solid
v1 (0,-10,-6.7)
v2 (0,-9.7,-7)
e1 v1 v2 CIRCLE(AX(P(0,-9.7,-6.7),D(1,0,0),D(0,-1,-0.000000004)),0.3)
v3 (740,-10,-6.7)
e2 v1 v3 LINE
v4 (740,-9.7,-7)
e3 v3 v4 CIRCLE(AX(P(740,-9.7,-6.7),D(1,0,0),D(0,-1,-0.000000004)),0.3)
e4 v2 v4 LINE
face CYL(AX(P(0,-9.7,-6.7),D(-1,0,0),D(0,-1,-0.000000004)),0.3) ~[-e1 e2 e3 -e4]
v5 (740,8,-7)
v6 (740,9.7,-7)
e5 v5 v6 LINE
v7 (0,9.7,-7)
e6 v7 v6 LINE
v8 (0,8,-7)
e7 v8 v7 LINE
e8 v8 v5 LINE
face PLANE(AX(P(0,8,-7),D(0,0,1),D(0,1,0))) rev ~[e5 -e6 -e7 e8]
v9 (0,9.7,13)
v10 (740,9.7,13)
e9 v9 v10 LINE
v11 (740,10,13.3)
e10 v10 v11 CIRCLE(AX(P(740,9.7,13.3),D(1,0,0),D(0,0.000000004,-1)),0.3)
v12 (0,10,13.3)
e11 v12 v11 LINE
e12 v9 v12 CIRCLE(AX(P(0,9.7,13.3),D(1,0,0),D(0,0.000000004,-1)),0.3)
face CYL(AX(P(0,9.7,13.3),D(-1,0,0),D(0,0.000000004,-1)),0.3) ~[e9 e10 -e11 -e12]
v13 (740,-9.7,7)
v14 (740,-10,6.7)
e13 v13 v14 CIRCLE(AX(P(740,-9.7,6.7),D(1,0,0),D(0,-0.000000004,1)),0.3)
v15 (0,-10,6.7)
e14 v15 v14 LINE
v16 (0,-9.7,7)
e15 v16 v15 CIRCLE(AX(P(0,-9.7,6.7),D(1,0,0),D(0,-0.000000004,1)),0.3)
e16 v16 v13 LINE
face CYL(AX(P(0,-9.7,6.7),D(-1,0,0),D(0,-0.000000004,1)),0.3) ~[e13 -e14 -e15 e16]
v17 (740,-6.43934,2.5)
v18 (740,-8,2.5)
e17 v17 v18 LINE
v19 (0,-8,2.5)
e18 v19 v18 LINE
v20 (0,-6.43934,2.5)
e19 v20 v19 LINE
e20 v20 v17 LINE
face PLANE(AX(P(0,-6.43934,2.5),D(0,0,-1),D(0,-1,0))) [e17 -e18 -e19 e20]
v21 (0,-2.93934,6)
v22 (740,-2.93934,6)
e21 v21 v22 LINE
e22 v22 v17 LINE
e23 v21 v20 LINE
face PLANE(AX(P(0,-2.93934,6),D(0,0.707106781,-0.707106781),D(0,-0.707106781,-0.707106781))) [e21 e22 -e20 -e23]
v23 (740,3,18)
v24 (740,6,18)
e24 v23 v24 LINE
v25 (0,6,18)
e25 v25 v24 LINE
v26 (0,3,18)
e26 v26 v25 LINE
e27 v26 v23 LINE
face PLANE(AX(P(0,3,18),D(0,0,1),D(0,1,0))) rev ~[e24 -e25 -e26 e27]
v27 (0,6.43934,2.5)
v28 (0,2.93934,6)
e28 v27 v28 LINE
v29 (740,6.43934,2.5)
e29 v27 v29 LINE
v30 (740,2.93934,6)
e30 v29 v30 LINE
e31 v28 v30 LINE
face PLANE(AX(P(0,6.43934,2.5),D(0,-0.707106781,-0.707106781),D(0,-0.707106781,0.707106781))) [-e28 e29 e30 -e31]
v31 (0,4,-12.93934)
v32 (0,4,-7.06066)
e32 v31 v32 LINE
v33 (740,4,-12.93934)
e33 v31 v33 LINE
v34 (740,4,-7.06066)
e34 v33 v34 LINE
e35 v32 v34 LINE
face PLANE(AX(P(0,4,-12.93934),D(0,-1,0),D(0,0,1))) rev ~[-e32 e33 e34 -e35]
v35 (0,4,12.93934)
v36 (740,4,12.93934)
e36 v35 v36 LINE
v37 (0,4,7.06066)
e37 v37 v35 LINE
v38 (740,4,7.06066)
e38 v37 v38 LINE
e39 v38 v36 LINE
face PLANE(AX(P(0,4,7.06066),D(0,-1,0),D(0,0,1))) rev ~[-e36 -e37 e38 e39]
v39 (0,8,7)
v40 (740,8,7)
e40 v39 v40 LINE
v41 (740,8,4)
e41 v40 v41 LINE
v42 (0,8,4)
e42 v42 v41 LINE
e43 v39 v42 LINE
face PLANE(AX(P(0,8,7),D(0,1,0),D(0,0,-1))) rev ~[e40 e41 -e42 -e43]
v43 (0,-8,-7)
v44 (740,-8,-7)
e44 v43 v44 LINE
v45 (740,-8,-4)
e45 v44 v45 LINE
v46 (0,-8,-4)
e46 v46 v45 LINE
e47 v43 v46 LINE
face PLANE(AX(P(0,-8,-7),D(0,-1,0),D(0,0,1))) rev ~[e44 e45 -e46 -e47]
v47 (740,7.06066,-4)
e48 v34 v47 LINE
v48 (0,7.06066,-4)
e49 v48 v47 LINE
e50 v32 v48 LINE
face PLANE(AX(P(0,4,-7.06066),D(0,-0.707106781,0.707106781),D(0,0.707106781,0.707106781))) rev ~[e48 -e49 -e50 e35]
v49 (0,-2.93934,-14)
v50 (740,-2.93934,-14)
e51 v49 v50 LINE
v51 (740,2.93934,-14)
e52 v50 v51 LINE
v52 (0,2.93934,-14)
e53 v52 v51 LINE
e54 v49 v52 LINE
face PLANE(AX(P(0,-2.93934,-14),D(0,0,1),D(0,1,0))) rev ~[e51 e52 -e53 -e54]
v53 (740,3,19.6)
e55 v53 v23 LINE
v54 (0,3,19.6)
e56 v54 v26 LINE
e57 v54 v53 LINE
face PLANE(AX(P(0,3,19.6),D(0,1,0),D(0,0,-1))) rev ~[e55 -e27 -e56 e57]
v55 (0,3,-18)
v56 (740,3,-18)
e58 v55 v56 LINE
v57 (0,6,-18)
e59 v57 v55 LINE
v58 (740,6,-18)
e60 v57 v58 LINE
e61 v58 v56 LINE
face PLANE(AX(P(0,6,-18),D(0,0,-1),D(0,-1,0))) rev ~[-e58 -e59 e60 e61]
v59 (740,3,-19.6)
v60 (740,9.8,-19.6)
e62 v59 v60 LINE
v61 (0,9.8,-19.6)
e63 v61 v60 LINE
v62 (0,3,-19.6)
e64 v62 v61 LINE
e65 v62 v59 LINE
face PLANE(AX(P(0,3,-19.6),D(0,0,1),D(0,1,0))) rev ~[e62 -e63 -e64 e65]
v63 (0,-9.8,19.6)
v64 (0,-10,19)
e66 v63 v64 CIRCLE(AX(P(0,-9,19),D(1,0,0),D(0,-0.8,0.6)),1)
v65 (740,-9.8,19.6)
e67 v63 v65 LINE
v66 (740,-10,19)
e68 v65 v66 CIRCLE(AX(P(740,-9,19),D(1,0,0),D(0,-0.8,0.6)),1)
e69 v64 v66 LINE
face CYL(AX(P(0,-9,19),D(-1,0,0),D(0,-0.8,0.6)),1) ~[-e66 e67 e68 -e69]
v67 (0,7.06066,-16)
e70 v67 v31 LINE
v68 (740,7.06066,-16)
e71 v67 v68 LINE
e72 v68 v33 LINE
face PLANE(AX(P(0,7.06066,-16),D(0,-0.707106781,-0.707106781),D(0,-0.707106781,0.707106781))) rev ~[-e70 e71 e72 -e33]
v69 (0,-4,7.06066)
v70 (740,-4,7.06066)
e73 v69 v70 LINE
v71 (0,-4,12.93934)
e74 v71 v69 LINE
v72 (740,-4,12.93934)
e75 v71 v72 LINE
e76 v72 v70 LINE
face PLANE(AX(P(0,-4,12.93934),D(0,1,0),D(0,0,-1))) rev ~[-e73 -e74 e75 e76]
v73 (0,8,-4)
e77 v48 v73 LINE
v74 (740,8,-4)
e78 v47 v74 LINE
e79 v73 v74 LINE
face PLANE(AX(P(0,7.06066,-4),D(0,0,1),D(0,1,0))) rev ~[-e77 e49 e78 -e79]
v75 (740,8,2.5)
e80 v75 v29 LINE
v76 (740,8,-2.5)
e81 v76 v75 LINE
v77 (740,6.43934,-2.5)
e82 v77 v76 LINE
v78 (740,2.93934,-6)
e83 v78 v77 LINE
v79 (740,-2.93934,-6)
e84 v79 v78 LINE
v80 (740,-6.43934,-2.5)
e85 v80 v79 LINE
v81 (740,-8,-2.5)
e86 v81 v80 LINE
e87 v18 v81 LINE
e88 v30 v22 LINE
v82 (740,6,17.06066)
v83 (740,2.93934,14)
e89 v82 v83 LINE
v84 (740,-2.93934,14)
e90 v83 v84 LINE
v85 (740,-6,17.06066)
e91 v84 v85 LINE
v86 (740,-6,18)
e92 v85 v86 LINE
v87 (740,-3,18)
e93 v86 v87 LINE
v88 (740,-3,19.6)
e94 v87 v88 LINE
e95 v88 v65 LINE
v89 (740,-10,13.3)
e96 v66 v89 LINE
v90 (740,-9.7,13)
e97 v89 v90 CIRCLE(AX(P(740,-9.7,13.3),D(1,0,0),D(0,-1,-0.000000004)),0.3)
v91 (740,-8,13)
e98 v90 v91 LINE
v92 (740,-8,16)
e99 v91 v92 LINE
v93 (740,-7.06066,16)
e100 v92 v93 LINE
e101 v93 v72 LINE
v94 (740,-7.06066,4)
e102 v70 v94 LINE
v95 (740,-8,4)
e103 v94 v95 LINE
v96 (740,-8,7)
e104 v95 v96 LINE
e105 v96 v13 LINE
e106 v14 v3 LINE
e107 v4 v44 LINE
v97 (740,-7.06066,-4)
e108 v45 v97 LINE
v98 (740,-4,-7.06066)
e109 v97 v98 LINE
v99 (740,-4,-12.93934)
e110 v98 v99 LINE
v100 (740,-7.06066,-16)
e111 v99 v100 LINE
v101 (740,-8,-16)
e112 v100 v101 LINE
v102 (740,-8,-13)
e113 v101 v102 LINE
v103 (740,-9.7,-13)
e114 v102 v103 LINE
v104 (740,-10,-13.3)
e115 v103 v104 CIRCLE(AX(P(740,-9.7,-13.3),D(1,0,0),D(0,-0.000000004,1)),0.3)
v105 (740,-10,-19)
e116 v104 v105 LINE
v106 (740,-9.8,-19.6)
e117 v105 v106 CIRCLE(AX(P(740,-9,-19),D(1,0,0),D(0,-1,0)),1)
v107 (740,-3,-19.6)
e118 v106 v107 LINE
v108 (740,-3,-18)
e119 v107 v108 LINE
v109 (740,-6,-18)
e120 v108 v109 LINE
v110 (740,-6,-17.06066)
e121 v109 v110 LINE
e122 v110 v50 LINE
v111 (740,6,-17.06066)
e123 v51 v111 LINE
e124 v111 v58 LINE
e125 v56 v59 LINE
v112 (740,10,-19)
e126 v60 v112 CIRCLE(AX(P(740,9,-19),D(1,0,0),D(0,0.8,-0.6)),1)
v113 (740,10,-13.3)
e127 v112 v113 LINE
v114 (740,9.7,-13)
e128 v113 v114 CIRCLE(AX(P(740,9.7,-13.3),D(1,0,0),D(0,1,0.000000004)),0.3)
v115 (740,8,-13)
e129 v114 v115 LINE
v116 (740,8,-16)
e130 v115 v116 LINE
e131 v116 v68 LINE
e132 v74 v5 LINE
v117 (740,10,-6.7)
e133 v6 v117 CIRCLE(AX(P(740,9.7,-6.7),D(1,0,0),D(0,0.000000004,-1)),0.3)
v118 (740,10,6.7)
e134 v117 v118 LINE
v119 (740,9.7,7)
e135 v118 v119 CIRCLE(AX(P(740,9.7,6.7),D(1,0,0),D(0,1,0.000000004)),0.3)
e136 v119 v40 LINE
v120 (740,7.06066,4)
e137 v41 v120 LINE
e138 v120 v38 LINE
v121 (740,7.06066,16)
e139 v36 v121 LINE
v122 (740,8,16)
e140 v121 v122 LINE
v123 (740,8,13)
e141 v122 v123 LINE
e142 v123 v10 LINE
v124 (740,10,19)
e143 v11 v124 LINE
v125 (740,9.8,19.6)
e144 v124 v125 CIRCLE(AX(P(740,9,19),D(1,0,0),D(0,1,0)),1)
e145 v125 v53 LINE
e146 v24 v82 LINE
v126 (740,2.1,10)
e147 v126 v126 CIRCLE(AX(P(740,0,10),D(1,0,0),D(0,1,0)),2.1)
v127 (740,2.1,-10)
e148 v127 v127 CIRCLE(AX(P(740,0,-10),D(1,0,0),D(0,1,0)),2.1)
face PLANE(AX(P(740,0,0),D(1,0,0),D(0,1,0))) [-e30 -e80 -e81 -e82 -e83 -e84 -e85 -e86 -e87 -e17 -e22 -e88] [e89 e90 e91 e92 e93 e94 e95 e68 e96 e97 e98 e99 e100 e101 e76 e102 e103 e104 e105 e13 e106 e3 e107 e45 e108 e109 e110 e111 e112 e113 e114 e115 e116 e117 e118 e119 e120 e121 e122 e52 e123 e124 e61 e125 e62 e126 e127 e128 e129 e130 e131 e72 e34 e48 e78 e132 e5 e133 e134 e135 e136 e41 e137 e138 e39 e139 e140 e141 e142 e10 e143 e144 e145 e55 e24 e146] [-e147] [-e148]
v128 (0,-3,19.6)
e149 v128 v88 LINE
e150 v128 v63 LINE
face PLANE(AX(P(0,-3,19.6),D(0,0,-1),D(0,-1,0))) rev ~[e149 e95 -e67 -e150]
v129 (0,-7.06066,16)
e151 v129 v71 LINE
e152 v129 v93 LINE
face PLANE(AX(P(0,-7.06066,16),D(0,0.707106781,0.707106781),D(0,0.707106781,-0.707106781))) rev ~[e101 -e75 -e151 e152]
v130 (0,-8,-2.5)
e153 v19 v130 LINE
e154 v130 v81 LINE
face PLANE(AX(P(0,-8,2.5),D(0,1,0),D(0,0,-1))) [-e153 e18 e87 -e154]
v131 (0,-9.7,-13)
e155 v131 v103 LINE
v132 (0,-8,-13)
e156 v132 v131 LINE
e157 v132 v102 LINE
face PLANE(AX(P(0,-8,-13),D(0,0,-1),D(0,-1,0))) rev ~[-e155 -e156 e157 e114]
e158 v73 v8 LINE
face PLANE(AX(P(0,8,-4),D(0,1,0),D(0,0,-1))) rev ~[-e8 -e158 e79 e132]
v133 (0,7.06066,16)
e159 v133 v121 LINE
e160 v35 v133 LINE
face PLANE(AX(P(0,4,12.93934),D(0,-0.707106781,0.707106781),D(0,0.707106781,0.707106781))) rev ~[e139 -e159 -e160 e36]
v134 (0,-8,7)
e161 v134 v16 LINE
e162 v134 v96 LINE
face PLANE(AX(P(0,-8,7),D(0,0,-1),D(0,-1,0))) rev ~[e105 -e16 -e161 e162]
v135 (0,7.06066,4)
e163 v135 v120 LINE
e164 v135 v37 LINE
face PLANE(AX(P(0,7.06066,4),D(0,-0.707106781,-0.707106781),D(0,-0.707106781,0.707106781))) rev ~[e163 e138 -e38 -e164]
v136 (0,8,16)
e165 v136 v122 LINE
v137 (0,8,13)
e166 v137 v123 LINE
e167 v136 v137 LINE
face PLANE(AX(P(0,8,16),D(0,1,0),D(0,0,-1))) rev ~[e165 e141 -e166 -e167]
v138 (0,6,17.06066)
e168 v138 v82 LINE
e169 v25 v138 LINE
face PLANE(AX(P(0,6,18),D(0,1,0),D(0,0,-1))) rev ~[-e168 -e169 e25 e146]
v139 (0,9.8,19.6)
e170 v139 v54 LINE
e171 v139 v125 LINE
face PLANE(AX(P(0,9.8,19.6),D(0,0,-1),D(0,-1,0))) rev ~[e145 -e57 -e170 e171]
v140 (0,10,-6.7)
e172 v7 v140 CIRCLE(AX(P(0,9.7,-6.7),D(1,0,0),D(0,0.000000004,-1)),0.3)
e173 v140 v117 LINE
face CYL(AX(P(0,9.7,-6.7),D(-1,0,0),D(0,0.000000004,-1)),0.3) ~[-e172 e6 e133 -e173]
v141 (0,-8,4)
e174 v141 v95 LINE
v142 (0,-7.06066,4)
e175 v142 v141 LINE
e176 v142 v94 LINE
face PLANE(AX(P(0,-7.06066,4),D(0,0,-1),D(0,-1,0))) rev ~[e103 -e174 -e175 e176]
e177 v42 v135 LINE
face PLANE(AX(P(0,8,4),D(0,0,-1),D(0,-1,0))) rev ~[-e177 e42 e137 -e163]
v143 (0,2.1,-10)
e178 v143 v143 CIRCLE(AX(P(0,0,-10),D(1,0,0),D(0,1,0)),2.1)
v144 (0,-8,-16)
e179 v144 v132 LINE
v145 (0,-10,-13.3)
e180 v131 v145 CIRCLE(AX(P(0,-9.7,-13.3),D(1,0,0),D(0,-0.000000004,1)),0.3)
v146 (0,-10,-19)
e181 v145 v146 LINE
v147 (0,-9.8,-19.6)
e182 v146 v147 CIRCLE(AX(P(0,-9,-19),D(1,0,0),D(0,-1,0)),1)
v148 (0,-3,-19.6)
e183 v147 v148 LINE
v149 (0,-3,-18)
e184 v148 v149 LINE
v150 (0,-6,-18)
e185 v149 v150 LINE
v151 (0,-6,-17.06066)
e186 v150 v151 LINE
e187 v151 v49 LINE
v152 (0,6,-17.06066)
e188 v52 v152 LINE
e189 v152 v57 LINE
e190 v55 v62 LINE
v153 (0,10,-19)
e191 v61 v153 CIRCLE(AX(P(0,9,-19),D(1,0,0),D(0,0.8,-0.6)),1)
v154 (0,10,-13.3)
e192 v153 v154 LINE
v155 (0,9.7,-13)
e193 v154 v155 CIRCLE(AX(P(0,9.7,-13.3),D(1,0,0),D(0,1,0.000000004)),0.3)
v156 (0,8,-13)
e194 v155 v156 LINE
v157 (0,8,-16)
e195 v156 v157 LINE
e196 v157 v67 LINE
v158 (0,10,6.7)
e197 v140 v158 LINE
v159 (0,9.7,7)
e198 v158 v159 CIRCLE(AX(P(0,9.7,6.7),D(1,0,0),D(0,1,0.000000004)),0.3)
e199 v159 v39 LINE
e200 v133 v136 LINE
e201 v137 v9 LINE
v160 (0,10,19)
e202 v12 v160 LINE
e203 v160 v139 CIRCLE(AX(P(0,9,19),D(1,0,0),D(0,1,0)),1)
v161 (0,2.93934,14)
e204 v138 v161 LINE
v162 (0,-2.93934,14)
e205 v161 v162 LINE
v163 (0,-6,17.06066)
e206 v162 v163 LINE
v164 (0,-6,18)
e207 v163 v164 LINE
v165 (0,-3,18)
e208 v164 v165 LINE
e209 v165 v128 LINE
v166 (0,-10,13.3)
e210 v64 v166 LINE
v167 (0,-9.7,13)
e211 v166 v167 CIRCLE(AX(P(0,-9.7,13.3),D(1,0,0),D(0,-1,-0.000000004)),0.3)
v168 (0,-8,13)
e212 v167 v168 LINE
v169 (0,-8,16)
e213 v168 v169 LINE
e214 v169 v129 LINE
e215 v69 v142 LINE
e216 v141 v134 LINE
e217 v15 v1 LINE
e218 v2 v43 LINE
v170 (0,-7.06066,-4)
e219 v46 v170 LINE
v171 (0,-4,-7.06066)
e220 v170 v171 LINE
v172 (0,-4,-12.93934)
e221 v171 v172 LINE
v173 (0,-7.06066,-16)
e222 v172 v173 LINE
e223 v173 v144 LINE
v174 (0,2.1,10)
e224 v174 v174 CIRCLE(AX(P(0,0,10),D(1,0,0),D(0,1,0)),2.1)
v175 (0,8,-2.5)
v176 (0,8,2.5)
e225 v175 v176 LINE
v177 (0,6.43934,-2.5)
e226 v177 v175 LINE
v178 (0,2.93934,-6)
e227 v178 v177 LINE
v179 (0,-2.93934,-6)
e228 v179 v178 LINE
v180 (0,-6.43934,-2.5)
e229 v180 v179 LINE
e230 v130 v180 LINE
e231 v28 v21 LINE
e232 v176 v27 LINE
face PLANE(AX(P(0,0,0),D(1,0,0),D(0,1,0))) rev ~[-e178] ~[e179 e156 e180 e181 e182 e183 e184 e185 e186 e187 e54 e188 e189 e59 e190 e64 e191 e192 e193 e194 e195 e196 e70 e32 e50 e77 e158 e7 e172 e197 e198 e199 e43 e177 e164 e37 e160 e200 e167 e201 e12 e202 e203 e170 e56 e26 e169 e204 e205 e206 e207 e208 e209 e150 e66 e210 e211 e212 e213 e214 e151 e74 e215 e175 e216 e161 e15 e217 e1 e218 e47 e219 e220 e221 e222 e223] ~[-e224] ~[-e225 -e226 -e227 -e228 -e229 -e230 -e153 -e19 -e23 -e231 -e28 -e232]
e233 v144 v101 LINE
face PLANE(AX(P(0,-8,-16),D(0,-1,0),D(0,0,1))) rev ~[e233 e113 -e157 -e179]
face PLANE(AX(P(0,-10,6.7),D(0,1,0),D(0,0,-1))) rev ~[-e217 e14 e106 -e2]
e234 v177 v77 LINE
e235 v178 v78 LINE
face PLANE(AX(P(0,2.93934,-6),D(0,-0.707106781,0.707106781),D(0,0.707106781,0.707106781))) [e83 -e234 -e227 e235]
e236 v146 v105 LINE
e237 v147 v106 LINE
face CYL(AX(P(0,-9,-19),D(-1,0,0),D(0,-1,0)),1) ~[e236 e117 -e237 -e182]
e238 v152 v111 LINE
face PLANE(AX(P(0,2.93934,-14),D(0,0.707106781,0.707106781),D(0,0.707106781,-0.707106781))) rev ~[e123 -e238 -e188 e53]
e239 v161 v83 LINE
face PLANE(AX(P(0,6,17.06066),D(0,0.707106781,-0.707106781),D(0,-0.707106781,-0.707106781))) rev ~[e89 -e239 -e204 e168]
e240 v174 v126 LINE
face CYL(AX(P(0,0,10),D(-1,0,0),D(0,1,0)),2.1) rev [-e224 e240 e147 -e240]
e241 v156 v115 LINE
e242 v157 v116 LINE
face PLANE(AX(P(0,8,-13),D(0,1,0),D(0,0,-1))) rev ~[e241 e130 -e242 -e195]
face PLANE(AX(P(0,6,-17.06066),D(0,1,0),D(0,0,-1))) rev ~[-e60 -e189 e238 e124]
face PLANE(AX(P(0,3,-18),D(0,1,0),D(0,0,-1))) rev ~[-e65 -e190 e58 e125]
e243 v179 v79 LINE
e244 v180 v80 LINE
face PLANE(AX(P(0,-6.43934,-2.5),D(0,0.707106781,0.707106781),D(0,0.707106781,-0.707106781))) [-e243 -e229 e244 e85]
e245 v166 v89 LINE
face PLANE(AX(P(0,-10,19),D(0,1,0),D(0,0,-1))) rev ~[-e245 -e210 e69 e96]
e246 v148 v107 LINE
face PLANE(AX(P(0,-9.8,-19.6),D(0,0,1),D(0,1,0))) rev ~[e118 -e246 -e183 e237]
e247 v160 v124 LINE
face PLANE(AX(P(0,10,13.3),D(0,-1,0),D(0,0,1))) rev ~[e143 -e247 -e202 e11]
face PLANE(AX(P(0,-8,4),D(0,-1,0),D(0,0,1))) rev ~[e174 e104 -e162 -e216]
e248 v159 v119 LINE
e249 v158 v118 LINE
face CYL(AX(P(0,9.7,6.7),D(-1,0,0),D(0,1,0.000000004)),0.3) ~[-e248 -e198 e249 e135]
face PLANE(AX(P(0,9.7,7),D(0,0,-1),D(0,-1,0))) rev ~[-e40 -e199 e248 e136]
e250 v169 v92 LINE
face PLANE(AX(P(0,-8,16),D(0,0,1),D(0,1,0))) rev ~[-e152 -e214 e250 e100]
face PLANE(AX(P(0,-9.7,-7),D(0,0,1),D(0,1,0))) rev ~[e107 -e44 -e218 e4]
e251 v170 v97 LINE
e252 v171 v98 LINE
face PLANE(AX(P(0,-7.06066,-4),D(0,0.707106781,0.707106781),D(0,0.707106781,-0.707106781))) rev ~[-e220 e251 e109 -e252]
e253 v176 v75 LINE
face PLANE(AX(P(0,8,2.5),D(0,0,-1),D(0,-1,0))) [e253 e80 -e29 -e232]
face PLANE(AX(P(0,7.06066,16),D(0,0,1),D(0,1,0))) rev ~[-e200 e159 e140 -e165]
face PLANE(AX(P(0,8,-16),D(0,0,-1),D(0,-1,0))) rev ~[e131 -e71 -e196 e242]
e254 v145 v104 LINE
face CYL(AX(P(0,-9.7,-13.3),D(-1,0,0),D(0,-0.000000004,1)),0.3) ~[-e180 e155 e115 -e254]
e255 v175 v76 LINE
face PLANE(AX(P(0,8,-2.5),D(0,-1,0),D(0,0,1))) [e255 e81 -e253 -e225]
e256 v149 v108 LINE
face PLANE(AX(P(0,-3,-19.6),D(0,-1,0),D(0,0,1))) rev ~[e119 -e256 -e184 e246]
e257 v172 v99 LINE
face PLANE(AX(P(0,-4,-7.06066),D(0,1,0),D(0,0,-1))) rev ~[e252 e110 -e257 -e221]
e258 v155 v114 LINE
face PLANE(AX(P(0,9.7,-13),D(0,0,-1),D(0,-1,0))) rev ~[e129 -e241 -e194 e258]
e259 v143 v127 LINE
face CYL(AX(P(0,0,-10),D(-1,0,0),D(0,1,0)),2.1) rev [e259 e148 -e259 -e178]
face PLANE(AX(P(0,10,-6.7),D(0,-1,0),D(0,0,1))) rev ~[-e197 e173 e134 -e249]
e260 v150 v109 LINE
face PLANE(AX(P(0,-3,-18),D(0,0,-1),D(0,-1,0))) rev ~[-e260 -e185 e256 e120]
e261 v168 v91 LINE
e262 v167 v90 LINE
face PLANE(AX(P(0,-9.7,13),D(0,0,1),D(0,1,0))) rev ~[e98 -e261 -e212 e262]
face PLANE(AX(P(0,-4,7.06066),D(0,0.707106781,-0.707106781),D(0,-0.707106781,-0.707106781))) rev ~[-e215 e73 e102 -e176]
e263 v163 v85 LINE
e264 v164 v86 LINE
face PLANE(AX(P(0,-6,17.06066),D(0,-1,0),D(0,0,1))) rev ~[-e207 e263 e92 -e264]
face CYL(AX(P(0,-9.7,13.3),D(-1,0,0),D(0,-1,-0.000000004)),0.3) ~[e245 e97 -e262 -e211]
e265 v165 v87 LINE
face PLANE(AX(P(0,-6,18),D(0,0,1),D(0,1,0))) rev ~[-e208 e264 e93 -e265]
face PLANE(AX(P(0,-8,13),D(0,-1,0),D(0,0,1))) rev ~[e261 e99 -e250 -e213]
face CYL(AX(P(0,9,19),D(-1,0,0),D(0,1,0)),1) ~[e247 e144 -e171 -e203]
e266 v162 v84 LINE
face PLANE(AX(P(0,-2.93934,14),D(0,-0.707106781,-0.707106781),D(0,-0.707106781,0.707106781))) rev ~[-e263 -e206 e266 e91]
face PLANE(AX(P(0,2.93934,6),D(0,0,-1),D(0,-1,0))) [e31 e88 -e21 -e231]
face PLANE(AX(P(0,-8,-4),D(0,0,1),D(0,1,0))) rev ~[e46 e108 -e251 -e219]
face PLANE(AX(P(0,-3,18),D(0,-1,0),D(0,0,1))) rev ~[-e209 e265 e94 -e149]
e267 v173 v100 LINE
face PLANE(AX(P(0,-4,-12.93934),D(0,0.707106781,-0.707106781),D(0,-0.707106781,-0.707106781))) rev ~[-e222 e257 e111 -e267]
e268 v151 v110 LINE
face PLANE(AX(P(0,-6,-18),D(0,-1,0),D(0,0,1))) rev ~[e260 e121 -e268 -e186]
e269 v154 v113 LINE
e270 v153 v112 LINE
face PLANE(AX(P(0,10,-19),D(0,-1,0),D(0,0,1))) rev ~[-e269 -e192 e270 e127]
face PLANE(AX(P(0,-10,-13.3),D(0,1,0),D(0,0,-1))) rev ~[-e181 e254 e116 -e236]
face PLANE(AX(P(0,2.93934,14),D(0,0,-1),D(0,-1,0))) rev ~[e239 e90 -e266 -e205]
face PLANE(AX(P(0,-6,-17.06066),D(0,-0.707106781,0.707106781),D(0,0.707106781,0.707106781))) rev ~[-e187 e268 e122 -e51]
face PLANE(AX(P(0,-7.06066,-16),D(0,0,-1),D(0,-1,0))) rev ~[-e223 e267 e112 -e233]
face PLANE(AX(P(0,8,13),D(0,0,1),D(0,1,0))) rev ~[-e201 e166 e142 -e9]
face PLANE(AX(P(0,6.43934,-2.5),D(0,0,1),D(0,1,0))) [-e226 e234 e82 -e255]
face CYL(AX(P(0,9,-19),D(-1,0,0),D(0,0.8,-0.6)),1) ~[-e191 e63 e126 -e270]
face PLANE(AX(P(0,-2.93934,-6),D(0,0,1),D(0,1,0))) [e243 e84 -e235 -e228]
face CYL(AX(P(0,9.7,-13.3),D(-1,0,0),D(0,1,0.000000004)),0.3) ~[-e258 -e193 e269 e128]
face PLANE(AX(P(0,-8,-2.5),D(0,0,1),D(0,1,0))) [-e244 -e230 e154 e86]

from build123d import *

# Parameters (mm, degrees)
SKETCH_11_R             = 2.1
F_20XS5_20X40S5_1_DEPTH = 740


with BuildPart() as part:
    # 草图11 → 20xs5 20X40S5(1) (new body)
    with BuildSketch(Plane.YZ):
        with BuildLine():
            Line((-10, 19), (-10, 13.3))
            ThreePointArc((-10, 13.3), (-9.912132034, 13.087867966), (-9.7, 13))
            Line((-9.7, 13), (-8, 13))
            Line((-8, 13), (-8, 16))
            Line((-8, 16), (-7.060660172, 16))
            Line((-7.060660172, 16), (-4, 12.939339828))
            Line((-4, 12.939339828), (-4, 7.060660172))
            Line((-4, 7.060660172), (-7.060660172, 4))
            Line((-7.060660172, 4), (-8, 4))
            Line((-8, 4), (-8, 7))
            Line((-8, 7), (-9.7, 7))
            ThreePointArc((-9.7, 7), (-9.912132034, 6.912132034), (-10, 6.7))
            Line((-10, 6.7), (-10, -6.7))
            ThreePointArc((-10, -6.7), (-9.912132034, -6.912132034), (-9.7, -7))
            Line((-9.7, -7), (-8, -7))
            Line((-8, -7), (-8, -4))
            Line((-8, -4), (-7.060660172, -4))
            Line((-7.060660172, -4), (-4, -7.060660172))
            Line((-4, -7.060660172), (-4, -12.939339828))
            Line((-4, -12.939339828), (-7.060660172, -16))
            Line((-7.060660172, -16), (-8, -16))
            Line((-8, -16), (-8, -13))
            Line((-8, -13), (-9.7, -13))
            ThreePointArc((-9.7, -13), (-9.912132034, -13.087867966), (-10, -13.3))
            Line((-10, -13.3), (-10, -19))
            ThreePointArc((-10, -19), (-9.948683298, -19.316227766), (-9.8, -19.6))
            Line((-9.8, -19.6), (-3, -19.6))
            Line((-3, -19.6), (-3, -18))
            Line((-3, -18), (-6, -18))
            Line((-6, -18), (-6, -17.060660172))
            Line((-6, -17.060660172), (-2.939339828, -14))
            Line((-2.939339828, -14), (2.939339828, -14))
            Line((2.939339828, -14), (6, -17.060660172))
            Line((6, -17.060660172), (6, -18))
            Line((6, -18), (3, -18))
            Line((3, -18), (3, -19.6))
            Line((3, -19.6), (9.8, -19.6))
            ThreePointArc((9.8, -19.6), (9.948683298, -19.316227766), (10, -19))
            Line((10, -19), (10, -13.3))
            ThreePointArc((10, -13.3), (9.912132034, -13.087867966), (9.7, -13))
            Line((9.7, -13), (8, -13))
            Line((8, -13), (8, -16))
            Line((8, -16), (7.060660172, -16))
            Line((7.060660172, -16), (4, -12.939339828))
            Line((4, -12.939339828), (4, -7.060660172))
            Line((4, -7.060660172), (7.060660172, -4))
            Line((7.060660172, -4), (8, -4))
            Line((8, -4), (8, -7))
            Line((8, -7), (9.7, -7))
            ThreePointArc((9.7, -7), (9.912132034, -6.912132034), (10, -6.7))
            Line((10, -6.7), (10, 6.7))
            ThreePointArc((10, 6.7), (9.912132034, 6.912132034), (9.7, 7))
            Line((9.7, 7), (8, 7))
            Line((8, 7), (8, 4))
            Line((8, 4), (7.060660172, 4))
            Line((7.060660172, 4), (4, 7.060660172))
            Line((4, 7.060660172), (4, 12.939339828))
            Line((4, 12.939339828), (7.060660172, 16))
            Line((7.060660172, 16), (8, 16))
            Line((8, 16), (8, 13))
            Line((8, 13), (9.7, 13))
            ThreePointArc((9.7, 13), (9.912132034, 13.087867966), (10, 13.3))
            Line((10, 13.3), (10, 19))
            ThreePointArc((10, 19), (9.948683298, 19.316227766), (9.8, 19.6))
            Line((9.8, 19.6), (3, 19.6))
            Line((3, 19.6), (3, 18))
            Line((3, 18), (6, 18))
            Line((6, 18), (6, 17.060660172))
            Line((6, 17.060660172), (2.939339828, 14))
            Line((2.939339828, 14), (-2.939339828, 14))
            Line((-2.939339828, 14), (-6, 17.060660172))
            Line((-6, 17.060660172), (-6, 18))
            Line((-6, 18), (-3, 18))
            Line((-3, 18), (-3, 19.6))
            Line((-3, 19.6), (-9.8, 19.6))
            ThreePointArc((-9.8, 19.6), (-9.948683298, 19.316227766), (-10, 19))
        make_face()
        with Locations((0, -10)):
            Circle(SKETCH_11_R, mode=Mode.SUBTRACT)
        with Locations((0, 10)):
            Circle(SKETCH_11_R, mode=Mode.SUBTRACT)
        Polygon((-8, -2.5), (-6.439339828, -2.5), (-2.939339828, -6), (2.939339828, -6), (6.439339828, -2.5), (8, -2.5), (8, 2.5), (6.439339828, 2.5), (2.939339828, 6), (-2.939339828, 6), (-6.439339828, 2.5), (-8, 2.5), align=None, mode=Mode.SUBTRACT)
    extrude(amount=F_20XS5_20X40S5_1_DEPTH)


solid = part.part
